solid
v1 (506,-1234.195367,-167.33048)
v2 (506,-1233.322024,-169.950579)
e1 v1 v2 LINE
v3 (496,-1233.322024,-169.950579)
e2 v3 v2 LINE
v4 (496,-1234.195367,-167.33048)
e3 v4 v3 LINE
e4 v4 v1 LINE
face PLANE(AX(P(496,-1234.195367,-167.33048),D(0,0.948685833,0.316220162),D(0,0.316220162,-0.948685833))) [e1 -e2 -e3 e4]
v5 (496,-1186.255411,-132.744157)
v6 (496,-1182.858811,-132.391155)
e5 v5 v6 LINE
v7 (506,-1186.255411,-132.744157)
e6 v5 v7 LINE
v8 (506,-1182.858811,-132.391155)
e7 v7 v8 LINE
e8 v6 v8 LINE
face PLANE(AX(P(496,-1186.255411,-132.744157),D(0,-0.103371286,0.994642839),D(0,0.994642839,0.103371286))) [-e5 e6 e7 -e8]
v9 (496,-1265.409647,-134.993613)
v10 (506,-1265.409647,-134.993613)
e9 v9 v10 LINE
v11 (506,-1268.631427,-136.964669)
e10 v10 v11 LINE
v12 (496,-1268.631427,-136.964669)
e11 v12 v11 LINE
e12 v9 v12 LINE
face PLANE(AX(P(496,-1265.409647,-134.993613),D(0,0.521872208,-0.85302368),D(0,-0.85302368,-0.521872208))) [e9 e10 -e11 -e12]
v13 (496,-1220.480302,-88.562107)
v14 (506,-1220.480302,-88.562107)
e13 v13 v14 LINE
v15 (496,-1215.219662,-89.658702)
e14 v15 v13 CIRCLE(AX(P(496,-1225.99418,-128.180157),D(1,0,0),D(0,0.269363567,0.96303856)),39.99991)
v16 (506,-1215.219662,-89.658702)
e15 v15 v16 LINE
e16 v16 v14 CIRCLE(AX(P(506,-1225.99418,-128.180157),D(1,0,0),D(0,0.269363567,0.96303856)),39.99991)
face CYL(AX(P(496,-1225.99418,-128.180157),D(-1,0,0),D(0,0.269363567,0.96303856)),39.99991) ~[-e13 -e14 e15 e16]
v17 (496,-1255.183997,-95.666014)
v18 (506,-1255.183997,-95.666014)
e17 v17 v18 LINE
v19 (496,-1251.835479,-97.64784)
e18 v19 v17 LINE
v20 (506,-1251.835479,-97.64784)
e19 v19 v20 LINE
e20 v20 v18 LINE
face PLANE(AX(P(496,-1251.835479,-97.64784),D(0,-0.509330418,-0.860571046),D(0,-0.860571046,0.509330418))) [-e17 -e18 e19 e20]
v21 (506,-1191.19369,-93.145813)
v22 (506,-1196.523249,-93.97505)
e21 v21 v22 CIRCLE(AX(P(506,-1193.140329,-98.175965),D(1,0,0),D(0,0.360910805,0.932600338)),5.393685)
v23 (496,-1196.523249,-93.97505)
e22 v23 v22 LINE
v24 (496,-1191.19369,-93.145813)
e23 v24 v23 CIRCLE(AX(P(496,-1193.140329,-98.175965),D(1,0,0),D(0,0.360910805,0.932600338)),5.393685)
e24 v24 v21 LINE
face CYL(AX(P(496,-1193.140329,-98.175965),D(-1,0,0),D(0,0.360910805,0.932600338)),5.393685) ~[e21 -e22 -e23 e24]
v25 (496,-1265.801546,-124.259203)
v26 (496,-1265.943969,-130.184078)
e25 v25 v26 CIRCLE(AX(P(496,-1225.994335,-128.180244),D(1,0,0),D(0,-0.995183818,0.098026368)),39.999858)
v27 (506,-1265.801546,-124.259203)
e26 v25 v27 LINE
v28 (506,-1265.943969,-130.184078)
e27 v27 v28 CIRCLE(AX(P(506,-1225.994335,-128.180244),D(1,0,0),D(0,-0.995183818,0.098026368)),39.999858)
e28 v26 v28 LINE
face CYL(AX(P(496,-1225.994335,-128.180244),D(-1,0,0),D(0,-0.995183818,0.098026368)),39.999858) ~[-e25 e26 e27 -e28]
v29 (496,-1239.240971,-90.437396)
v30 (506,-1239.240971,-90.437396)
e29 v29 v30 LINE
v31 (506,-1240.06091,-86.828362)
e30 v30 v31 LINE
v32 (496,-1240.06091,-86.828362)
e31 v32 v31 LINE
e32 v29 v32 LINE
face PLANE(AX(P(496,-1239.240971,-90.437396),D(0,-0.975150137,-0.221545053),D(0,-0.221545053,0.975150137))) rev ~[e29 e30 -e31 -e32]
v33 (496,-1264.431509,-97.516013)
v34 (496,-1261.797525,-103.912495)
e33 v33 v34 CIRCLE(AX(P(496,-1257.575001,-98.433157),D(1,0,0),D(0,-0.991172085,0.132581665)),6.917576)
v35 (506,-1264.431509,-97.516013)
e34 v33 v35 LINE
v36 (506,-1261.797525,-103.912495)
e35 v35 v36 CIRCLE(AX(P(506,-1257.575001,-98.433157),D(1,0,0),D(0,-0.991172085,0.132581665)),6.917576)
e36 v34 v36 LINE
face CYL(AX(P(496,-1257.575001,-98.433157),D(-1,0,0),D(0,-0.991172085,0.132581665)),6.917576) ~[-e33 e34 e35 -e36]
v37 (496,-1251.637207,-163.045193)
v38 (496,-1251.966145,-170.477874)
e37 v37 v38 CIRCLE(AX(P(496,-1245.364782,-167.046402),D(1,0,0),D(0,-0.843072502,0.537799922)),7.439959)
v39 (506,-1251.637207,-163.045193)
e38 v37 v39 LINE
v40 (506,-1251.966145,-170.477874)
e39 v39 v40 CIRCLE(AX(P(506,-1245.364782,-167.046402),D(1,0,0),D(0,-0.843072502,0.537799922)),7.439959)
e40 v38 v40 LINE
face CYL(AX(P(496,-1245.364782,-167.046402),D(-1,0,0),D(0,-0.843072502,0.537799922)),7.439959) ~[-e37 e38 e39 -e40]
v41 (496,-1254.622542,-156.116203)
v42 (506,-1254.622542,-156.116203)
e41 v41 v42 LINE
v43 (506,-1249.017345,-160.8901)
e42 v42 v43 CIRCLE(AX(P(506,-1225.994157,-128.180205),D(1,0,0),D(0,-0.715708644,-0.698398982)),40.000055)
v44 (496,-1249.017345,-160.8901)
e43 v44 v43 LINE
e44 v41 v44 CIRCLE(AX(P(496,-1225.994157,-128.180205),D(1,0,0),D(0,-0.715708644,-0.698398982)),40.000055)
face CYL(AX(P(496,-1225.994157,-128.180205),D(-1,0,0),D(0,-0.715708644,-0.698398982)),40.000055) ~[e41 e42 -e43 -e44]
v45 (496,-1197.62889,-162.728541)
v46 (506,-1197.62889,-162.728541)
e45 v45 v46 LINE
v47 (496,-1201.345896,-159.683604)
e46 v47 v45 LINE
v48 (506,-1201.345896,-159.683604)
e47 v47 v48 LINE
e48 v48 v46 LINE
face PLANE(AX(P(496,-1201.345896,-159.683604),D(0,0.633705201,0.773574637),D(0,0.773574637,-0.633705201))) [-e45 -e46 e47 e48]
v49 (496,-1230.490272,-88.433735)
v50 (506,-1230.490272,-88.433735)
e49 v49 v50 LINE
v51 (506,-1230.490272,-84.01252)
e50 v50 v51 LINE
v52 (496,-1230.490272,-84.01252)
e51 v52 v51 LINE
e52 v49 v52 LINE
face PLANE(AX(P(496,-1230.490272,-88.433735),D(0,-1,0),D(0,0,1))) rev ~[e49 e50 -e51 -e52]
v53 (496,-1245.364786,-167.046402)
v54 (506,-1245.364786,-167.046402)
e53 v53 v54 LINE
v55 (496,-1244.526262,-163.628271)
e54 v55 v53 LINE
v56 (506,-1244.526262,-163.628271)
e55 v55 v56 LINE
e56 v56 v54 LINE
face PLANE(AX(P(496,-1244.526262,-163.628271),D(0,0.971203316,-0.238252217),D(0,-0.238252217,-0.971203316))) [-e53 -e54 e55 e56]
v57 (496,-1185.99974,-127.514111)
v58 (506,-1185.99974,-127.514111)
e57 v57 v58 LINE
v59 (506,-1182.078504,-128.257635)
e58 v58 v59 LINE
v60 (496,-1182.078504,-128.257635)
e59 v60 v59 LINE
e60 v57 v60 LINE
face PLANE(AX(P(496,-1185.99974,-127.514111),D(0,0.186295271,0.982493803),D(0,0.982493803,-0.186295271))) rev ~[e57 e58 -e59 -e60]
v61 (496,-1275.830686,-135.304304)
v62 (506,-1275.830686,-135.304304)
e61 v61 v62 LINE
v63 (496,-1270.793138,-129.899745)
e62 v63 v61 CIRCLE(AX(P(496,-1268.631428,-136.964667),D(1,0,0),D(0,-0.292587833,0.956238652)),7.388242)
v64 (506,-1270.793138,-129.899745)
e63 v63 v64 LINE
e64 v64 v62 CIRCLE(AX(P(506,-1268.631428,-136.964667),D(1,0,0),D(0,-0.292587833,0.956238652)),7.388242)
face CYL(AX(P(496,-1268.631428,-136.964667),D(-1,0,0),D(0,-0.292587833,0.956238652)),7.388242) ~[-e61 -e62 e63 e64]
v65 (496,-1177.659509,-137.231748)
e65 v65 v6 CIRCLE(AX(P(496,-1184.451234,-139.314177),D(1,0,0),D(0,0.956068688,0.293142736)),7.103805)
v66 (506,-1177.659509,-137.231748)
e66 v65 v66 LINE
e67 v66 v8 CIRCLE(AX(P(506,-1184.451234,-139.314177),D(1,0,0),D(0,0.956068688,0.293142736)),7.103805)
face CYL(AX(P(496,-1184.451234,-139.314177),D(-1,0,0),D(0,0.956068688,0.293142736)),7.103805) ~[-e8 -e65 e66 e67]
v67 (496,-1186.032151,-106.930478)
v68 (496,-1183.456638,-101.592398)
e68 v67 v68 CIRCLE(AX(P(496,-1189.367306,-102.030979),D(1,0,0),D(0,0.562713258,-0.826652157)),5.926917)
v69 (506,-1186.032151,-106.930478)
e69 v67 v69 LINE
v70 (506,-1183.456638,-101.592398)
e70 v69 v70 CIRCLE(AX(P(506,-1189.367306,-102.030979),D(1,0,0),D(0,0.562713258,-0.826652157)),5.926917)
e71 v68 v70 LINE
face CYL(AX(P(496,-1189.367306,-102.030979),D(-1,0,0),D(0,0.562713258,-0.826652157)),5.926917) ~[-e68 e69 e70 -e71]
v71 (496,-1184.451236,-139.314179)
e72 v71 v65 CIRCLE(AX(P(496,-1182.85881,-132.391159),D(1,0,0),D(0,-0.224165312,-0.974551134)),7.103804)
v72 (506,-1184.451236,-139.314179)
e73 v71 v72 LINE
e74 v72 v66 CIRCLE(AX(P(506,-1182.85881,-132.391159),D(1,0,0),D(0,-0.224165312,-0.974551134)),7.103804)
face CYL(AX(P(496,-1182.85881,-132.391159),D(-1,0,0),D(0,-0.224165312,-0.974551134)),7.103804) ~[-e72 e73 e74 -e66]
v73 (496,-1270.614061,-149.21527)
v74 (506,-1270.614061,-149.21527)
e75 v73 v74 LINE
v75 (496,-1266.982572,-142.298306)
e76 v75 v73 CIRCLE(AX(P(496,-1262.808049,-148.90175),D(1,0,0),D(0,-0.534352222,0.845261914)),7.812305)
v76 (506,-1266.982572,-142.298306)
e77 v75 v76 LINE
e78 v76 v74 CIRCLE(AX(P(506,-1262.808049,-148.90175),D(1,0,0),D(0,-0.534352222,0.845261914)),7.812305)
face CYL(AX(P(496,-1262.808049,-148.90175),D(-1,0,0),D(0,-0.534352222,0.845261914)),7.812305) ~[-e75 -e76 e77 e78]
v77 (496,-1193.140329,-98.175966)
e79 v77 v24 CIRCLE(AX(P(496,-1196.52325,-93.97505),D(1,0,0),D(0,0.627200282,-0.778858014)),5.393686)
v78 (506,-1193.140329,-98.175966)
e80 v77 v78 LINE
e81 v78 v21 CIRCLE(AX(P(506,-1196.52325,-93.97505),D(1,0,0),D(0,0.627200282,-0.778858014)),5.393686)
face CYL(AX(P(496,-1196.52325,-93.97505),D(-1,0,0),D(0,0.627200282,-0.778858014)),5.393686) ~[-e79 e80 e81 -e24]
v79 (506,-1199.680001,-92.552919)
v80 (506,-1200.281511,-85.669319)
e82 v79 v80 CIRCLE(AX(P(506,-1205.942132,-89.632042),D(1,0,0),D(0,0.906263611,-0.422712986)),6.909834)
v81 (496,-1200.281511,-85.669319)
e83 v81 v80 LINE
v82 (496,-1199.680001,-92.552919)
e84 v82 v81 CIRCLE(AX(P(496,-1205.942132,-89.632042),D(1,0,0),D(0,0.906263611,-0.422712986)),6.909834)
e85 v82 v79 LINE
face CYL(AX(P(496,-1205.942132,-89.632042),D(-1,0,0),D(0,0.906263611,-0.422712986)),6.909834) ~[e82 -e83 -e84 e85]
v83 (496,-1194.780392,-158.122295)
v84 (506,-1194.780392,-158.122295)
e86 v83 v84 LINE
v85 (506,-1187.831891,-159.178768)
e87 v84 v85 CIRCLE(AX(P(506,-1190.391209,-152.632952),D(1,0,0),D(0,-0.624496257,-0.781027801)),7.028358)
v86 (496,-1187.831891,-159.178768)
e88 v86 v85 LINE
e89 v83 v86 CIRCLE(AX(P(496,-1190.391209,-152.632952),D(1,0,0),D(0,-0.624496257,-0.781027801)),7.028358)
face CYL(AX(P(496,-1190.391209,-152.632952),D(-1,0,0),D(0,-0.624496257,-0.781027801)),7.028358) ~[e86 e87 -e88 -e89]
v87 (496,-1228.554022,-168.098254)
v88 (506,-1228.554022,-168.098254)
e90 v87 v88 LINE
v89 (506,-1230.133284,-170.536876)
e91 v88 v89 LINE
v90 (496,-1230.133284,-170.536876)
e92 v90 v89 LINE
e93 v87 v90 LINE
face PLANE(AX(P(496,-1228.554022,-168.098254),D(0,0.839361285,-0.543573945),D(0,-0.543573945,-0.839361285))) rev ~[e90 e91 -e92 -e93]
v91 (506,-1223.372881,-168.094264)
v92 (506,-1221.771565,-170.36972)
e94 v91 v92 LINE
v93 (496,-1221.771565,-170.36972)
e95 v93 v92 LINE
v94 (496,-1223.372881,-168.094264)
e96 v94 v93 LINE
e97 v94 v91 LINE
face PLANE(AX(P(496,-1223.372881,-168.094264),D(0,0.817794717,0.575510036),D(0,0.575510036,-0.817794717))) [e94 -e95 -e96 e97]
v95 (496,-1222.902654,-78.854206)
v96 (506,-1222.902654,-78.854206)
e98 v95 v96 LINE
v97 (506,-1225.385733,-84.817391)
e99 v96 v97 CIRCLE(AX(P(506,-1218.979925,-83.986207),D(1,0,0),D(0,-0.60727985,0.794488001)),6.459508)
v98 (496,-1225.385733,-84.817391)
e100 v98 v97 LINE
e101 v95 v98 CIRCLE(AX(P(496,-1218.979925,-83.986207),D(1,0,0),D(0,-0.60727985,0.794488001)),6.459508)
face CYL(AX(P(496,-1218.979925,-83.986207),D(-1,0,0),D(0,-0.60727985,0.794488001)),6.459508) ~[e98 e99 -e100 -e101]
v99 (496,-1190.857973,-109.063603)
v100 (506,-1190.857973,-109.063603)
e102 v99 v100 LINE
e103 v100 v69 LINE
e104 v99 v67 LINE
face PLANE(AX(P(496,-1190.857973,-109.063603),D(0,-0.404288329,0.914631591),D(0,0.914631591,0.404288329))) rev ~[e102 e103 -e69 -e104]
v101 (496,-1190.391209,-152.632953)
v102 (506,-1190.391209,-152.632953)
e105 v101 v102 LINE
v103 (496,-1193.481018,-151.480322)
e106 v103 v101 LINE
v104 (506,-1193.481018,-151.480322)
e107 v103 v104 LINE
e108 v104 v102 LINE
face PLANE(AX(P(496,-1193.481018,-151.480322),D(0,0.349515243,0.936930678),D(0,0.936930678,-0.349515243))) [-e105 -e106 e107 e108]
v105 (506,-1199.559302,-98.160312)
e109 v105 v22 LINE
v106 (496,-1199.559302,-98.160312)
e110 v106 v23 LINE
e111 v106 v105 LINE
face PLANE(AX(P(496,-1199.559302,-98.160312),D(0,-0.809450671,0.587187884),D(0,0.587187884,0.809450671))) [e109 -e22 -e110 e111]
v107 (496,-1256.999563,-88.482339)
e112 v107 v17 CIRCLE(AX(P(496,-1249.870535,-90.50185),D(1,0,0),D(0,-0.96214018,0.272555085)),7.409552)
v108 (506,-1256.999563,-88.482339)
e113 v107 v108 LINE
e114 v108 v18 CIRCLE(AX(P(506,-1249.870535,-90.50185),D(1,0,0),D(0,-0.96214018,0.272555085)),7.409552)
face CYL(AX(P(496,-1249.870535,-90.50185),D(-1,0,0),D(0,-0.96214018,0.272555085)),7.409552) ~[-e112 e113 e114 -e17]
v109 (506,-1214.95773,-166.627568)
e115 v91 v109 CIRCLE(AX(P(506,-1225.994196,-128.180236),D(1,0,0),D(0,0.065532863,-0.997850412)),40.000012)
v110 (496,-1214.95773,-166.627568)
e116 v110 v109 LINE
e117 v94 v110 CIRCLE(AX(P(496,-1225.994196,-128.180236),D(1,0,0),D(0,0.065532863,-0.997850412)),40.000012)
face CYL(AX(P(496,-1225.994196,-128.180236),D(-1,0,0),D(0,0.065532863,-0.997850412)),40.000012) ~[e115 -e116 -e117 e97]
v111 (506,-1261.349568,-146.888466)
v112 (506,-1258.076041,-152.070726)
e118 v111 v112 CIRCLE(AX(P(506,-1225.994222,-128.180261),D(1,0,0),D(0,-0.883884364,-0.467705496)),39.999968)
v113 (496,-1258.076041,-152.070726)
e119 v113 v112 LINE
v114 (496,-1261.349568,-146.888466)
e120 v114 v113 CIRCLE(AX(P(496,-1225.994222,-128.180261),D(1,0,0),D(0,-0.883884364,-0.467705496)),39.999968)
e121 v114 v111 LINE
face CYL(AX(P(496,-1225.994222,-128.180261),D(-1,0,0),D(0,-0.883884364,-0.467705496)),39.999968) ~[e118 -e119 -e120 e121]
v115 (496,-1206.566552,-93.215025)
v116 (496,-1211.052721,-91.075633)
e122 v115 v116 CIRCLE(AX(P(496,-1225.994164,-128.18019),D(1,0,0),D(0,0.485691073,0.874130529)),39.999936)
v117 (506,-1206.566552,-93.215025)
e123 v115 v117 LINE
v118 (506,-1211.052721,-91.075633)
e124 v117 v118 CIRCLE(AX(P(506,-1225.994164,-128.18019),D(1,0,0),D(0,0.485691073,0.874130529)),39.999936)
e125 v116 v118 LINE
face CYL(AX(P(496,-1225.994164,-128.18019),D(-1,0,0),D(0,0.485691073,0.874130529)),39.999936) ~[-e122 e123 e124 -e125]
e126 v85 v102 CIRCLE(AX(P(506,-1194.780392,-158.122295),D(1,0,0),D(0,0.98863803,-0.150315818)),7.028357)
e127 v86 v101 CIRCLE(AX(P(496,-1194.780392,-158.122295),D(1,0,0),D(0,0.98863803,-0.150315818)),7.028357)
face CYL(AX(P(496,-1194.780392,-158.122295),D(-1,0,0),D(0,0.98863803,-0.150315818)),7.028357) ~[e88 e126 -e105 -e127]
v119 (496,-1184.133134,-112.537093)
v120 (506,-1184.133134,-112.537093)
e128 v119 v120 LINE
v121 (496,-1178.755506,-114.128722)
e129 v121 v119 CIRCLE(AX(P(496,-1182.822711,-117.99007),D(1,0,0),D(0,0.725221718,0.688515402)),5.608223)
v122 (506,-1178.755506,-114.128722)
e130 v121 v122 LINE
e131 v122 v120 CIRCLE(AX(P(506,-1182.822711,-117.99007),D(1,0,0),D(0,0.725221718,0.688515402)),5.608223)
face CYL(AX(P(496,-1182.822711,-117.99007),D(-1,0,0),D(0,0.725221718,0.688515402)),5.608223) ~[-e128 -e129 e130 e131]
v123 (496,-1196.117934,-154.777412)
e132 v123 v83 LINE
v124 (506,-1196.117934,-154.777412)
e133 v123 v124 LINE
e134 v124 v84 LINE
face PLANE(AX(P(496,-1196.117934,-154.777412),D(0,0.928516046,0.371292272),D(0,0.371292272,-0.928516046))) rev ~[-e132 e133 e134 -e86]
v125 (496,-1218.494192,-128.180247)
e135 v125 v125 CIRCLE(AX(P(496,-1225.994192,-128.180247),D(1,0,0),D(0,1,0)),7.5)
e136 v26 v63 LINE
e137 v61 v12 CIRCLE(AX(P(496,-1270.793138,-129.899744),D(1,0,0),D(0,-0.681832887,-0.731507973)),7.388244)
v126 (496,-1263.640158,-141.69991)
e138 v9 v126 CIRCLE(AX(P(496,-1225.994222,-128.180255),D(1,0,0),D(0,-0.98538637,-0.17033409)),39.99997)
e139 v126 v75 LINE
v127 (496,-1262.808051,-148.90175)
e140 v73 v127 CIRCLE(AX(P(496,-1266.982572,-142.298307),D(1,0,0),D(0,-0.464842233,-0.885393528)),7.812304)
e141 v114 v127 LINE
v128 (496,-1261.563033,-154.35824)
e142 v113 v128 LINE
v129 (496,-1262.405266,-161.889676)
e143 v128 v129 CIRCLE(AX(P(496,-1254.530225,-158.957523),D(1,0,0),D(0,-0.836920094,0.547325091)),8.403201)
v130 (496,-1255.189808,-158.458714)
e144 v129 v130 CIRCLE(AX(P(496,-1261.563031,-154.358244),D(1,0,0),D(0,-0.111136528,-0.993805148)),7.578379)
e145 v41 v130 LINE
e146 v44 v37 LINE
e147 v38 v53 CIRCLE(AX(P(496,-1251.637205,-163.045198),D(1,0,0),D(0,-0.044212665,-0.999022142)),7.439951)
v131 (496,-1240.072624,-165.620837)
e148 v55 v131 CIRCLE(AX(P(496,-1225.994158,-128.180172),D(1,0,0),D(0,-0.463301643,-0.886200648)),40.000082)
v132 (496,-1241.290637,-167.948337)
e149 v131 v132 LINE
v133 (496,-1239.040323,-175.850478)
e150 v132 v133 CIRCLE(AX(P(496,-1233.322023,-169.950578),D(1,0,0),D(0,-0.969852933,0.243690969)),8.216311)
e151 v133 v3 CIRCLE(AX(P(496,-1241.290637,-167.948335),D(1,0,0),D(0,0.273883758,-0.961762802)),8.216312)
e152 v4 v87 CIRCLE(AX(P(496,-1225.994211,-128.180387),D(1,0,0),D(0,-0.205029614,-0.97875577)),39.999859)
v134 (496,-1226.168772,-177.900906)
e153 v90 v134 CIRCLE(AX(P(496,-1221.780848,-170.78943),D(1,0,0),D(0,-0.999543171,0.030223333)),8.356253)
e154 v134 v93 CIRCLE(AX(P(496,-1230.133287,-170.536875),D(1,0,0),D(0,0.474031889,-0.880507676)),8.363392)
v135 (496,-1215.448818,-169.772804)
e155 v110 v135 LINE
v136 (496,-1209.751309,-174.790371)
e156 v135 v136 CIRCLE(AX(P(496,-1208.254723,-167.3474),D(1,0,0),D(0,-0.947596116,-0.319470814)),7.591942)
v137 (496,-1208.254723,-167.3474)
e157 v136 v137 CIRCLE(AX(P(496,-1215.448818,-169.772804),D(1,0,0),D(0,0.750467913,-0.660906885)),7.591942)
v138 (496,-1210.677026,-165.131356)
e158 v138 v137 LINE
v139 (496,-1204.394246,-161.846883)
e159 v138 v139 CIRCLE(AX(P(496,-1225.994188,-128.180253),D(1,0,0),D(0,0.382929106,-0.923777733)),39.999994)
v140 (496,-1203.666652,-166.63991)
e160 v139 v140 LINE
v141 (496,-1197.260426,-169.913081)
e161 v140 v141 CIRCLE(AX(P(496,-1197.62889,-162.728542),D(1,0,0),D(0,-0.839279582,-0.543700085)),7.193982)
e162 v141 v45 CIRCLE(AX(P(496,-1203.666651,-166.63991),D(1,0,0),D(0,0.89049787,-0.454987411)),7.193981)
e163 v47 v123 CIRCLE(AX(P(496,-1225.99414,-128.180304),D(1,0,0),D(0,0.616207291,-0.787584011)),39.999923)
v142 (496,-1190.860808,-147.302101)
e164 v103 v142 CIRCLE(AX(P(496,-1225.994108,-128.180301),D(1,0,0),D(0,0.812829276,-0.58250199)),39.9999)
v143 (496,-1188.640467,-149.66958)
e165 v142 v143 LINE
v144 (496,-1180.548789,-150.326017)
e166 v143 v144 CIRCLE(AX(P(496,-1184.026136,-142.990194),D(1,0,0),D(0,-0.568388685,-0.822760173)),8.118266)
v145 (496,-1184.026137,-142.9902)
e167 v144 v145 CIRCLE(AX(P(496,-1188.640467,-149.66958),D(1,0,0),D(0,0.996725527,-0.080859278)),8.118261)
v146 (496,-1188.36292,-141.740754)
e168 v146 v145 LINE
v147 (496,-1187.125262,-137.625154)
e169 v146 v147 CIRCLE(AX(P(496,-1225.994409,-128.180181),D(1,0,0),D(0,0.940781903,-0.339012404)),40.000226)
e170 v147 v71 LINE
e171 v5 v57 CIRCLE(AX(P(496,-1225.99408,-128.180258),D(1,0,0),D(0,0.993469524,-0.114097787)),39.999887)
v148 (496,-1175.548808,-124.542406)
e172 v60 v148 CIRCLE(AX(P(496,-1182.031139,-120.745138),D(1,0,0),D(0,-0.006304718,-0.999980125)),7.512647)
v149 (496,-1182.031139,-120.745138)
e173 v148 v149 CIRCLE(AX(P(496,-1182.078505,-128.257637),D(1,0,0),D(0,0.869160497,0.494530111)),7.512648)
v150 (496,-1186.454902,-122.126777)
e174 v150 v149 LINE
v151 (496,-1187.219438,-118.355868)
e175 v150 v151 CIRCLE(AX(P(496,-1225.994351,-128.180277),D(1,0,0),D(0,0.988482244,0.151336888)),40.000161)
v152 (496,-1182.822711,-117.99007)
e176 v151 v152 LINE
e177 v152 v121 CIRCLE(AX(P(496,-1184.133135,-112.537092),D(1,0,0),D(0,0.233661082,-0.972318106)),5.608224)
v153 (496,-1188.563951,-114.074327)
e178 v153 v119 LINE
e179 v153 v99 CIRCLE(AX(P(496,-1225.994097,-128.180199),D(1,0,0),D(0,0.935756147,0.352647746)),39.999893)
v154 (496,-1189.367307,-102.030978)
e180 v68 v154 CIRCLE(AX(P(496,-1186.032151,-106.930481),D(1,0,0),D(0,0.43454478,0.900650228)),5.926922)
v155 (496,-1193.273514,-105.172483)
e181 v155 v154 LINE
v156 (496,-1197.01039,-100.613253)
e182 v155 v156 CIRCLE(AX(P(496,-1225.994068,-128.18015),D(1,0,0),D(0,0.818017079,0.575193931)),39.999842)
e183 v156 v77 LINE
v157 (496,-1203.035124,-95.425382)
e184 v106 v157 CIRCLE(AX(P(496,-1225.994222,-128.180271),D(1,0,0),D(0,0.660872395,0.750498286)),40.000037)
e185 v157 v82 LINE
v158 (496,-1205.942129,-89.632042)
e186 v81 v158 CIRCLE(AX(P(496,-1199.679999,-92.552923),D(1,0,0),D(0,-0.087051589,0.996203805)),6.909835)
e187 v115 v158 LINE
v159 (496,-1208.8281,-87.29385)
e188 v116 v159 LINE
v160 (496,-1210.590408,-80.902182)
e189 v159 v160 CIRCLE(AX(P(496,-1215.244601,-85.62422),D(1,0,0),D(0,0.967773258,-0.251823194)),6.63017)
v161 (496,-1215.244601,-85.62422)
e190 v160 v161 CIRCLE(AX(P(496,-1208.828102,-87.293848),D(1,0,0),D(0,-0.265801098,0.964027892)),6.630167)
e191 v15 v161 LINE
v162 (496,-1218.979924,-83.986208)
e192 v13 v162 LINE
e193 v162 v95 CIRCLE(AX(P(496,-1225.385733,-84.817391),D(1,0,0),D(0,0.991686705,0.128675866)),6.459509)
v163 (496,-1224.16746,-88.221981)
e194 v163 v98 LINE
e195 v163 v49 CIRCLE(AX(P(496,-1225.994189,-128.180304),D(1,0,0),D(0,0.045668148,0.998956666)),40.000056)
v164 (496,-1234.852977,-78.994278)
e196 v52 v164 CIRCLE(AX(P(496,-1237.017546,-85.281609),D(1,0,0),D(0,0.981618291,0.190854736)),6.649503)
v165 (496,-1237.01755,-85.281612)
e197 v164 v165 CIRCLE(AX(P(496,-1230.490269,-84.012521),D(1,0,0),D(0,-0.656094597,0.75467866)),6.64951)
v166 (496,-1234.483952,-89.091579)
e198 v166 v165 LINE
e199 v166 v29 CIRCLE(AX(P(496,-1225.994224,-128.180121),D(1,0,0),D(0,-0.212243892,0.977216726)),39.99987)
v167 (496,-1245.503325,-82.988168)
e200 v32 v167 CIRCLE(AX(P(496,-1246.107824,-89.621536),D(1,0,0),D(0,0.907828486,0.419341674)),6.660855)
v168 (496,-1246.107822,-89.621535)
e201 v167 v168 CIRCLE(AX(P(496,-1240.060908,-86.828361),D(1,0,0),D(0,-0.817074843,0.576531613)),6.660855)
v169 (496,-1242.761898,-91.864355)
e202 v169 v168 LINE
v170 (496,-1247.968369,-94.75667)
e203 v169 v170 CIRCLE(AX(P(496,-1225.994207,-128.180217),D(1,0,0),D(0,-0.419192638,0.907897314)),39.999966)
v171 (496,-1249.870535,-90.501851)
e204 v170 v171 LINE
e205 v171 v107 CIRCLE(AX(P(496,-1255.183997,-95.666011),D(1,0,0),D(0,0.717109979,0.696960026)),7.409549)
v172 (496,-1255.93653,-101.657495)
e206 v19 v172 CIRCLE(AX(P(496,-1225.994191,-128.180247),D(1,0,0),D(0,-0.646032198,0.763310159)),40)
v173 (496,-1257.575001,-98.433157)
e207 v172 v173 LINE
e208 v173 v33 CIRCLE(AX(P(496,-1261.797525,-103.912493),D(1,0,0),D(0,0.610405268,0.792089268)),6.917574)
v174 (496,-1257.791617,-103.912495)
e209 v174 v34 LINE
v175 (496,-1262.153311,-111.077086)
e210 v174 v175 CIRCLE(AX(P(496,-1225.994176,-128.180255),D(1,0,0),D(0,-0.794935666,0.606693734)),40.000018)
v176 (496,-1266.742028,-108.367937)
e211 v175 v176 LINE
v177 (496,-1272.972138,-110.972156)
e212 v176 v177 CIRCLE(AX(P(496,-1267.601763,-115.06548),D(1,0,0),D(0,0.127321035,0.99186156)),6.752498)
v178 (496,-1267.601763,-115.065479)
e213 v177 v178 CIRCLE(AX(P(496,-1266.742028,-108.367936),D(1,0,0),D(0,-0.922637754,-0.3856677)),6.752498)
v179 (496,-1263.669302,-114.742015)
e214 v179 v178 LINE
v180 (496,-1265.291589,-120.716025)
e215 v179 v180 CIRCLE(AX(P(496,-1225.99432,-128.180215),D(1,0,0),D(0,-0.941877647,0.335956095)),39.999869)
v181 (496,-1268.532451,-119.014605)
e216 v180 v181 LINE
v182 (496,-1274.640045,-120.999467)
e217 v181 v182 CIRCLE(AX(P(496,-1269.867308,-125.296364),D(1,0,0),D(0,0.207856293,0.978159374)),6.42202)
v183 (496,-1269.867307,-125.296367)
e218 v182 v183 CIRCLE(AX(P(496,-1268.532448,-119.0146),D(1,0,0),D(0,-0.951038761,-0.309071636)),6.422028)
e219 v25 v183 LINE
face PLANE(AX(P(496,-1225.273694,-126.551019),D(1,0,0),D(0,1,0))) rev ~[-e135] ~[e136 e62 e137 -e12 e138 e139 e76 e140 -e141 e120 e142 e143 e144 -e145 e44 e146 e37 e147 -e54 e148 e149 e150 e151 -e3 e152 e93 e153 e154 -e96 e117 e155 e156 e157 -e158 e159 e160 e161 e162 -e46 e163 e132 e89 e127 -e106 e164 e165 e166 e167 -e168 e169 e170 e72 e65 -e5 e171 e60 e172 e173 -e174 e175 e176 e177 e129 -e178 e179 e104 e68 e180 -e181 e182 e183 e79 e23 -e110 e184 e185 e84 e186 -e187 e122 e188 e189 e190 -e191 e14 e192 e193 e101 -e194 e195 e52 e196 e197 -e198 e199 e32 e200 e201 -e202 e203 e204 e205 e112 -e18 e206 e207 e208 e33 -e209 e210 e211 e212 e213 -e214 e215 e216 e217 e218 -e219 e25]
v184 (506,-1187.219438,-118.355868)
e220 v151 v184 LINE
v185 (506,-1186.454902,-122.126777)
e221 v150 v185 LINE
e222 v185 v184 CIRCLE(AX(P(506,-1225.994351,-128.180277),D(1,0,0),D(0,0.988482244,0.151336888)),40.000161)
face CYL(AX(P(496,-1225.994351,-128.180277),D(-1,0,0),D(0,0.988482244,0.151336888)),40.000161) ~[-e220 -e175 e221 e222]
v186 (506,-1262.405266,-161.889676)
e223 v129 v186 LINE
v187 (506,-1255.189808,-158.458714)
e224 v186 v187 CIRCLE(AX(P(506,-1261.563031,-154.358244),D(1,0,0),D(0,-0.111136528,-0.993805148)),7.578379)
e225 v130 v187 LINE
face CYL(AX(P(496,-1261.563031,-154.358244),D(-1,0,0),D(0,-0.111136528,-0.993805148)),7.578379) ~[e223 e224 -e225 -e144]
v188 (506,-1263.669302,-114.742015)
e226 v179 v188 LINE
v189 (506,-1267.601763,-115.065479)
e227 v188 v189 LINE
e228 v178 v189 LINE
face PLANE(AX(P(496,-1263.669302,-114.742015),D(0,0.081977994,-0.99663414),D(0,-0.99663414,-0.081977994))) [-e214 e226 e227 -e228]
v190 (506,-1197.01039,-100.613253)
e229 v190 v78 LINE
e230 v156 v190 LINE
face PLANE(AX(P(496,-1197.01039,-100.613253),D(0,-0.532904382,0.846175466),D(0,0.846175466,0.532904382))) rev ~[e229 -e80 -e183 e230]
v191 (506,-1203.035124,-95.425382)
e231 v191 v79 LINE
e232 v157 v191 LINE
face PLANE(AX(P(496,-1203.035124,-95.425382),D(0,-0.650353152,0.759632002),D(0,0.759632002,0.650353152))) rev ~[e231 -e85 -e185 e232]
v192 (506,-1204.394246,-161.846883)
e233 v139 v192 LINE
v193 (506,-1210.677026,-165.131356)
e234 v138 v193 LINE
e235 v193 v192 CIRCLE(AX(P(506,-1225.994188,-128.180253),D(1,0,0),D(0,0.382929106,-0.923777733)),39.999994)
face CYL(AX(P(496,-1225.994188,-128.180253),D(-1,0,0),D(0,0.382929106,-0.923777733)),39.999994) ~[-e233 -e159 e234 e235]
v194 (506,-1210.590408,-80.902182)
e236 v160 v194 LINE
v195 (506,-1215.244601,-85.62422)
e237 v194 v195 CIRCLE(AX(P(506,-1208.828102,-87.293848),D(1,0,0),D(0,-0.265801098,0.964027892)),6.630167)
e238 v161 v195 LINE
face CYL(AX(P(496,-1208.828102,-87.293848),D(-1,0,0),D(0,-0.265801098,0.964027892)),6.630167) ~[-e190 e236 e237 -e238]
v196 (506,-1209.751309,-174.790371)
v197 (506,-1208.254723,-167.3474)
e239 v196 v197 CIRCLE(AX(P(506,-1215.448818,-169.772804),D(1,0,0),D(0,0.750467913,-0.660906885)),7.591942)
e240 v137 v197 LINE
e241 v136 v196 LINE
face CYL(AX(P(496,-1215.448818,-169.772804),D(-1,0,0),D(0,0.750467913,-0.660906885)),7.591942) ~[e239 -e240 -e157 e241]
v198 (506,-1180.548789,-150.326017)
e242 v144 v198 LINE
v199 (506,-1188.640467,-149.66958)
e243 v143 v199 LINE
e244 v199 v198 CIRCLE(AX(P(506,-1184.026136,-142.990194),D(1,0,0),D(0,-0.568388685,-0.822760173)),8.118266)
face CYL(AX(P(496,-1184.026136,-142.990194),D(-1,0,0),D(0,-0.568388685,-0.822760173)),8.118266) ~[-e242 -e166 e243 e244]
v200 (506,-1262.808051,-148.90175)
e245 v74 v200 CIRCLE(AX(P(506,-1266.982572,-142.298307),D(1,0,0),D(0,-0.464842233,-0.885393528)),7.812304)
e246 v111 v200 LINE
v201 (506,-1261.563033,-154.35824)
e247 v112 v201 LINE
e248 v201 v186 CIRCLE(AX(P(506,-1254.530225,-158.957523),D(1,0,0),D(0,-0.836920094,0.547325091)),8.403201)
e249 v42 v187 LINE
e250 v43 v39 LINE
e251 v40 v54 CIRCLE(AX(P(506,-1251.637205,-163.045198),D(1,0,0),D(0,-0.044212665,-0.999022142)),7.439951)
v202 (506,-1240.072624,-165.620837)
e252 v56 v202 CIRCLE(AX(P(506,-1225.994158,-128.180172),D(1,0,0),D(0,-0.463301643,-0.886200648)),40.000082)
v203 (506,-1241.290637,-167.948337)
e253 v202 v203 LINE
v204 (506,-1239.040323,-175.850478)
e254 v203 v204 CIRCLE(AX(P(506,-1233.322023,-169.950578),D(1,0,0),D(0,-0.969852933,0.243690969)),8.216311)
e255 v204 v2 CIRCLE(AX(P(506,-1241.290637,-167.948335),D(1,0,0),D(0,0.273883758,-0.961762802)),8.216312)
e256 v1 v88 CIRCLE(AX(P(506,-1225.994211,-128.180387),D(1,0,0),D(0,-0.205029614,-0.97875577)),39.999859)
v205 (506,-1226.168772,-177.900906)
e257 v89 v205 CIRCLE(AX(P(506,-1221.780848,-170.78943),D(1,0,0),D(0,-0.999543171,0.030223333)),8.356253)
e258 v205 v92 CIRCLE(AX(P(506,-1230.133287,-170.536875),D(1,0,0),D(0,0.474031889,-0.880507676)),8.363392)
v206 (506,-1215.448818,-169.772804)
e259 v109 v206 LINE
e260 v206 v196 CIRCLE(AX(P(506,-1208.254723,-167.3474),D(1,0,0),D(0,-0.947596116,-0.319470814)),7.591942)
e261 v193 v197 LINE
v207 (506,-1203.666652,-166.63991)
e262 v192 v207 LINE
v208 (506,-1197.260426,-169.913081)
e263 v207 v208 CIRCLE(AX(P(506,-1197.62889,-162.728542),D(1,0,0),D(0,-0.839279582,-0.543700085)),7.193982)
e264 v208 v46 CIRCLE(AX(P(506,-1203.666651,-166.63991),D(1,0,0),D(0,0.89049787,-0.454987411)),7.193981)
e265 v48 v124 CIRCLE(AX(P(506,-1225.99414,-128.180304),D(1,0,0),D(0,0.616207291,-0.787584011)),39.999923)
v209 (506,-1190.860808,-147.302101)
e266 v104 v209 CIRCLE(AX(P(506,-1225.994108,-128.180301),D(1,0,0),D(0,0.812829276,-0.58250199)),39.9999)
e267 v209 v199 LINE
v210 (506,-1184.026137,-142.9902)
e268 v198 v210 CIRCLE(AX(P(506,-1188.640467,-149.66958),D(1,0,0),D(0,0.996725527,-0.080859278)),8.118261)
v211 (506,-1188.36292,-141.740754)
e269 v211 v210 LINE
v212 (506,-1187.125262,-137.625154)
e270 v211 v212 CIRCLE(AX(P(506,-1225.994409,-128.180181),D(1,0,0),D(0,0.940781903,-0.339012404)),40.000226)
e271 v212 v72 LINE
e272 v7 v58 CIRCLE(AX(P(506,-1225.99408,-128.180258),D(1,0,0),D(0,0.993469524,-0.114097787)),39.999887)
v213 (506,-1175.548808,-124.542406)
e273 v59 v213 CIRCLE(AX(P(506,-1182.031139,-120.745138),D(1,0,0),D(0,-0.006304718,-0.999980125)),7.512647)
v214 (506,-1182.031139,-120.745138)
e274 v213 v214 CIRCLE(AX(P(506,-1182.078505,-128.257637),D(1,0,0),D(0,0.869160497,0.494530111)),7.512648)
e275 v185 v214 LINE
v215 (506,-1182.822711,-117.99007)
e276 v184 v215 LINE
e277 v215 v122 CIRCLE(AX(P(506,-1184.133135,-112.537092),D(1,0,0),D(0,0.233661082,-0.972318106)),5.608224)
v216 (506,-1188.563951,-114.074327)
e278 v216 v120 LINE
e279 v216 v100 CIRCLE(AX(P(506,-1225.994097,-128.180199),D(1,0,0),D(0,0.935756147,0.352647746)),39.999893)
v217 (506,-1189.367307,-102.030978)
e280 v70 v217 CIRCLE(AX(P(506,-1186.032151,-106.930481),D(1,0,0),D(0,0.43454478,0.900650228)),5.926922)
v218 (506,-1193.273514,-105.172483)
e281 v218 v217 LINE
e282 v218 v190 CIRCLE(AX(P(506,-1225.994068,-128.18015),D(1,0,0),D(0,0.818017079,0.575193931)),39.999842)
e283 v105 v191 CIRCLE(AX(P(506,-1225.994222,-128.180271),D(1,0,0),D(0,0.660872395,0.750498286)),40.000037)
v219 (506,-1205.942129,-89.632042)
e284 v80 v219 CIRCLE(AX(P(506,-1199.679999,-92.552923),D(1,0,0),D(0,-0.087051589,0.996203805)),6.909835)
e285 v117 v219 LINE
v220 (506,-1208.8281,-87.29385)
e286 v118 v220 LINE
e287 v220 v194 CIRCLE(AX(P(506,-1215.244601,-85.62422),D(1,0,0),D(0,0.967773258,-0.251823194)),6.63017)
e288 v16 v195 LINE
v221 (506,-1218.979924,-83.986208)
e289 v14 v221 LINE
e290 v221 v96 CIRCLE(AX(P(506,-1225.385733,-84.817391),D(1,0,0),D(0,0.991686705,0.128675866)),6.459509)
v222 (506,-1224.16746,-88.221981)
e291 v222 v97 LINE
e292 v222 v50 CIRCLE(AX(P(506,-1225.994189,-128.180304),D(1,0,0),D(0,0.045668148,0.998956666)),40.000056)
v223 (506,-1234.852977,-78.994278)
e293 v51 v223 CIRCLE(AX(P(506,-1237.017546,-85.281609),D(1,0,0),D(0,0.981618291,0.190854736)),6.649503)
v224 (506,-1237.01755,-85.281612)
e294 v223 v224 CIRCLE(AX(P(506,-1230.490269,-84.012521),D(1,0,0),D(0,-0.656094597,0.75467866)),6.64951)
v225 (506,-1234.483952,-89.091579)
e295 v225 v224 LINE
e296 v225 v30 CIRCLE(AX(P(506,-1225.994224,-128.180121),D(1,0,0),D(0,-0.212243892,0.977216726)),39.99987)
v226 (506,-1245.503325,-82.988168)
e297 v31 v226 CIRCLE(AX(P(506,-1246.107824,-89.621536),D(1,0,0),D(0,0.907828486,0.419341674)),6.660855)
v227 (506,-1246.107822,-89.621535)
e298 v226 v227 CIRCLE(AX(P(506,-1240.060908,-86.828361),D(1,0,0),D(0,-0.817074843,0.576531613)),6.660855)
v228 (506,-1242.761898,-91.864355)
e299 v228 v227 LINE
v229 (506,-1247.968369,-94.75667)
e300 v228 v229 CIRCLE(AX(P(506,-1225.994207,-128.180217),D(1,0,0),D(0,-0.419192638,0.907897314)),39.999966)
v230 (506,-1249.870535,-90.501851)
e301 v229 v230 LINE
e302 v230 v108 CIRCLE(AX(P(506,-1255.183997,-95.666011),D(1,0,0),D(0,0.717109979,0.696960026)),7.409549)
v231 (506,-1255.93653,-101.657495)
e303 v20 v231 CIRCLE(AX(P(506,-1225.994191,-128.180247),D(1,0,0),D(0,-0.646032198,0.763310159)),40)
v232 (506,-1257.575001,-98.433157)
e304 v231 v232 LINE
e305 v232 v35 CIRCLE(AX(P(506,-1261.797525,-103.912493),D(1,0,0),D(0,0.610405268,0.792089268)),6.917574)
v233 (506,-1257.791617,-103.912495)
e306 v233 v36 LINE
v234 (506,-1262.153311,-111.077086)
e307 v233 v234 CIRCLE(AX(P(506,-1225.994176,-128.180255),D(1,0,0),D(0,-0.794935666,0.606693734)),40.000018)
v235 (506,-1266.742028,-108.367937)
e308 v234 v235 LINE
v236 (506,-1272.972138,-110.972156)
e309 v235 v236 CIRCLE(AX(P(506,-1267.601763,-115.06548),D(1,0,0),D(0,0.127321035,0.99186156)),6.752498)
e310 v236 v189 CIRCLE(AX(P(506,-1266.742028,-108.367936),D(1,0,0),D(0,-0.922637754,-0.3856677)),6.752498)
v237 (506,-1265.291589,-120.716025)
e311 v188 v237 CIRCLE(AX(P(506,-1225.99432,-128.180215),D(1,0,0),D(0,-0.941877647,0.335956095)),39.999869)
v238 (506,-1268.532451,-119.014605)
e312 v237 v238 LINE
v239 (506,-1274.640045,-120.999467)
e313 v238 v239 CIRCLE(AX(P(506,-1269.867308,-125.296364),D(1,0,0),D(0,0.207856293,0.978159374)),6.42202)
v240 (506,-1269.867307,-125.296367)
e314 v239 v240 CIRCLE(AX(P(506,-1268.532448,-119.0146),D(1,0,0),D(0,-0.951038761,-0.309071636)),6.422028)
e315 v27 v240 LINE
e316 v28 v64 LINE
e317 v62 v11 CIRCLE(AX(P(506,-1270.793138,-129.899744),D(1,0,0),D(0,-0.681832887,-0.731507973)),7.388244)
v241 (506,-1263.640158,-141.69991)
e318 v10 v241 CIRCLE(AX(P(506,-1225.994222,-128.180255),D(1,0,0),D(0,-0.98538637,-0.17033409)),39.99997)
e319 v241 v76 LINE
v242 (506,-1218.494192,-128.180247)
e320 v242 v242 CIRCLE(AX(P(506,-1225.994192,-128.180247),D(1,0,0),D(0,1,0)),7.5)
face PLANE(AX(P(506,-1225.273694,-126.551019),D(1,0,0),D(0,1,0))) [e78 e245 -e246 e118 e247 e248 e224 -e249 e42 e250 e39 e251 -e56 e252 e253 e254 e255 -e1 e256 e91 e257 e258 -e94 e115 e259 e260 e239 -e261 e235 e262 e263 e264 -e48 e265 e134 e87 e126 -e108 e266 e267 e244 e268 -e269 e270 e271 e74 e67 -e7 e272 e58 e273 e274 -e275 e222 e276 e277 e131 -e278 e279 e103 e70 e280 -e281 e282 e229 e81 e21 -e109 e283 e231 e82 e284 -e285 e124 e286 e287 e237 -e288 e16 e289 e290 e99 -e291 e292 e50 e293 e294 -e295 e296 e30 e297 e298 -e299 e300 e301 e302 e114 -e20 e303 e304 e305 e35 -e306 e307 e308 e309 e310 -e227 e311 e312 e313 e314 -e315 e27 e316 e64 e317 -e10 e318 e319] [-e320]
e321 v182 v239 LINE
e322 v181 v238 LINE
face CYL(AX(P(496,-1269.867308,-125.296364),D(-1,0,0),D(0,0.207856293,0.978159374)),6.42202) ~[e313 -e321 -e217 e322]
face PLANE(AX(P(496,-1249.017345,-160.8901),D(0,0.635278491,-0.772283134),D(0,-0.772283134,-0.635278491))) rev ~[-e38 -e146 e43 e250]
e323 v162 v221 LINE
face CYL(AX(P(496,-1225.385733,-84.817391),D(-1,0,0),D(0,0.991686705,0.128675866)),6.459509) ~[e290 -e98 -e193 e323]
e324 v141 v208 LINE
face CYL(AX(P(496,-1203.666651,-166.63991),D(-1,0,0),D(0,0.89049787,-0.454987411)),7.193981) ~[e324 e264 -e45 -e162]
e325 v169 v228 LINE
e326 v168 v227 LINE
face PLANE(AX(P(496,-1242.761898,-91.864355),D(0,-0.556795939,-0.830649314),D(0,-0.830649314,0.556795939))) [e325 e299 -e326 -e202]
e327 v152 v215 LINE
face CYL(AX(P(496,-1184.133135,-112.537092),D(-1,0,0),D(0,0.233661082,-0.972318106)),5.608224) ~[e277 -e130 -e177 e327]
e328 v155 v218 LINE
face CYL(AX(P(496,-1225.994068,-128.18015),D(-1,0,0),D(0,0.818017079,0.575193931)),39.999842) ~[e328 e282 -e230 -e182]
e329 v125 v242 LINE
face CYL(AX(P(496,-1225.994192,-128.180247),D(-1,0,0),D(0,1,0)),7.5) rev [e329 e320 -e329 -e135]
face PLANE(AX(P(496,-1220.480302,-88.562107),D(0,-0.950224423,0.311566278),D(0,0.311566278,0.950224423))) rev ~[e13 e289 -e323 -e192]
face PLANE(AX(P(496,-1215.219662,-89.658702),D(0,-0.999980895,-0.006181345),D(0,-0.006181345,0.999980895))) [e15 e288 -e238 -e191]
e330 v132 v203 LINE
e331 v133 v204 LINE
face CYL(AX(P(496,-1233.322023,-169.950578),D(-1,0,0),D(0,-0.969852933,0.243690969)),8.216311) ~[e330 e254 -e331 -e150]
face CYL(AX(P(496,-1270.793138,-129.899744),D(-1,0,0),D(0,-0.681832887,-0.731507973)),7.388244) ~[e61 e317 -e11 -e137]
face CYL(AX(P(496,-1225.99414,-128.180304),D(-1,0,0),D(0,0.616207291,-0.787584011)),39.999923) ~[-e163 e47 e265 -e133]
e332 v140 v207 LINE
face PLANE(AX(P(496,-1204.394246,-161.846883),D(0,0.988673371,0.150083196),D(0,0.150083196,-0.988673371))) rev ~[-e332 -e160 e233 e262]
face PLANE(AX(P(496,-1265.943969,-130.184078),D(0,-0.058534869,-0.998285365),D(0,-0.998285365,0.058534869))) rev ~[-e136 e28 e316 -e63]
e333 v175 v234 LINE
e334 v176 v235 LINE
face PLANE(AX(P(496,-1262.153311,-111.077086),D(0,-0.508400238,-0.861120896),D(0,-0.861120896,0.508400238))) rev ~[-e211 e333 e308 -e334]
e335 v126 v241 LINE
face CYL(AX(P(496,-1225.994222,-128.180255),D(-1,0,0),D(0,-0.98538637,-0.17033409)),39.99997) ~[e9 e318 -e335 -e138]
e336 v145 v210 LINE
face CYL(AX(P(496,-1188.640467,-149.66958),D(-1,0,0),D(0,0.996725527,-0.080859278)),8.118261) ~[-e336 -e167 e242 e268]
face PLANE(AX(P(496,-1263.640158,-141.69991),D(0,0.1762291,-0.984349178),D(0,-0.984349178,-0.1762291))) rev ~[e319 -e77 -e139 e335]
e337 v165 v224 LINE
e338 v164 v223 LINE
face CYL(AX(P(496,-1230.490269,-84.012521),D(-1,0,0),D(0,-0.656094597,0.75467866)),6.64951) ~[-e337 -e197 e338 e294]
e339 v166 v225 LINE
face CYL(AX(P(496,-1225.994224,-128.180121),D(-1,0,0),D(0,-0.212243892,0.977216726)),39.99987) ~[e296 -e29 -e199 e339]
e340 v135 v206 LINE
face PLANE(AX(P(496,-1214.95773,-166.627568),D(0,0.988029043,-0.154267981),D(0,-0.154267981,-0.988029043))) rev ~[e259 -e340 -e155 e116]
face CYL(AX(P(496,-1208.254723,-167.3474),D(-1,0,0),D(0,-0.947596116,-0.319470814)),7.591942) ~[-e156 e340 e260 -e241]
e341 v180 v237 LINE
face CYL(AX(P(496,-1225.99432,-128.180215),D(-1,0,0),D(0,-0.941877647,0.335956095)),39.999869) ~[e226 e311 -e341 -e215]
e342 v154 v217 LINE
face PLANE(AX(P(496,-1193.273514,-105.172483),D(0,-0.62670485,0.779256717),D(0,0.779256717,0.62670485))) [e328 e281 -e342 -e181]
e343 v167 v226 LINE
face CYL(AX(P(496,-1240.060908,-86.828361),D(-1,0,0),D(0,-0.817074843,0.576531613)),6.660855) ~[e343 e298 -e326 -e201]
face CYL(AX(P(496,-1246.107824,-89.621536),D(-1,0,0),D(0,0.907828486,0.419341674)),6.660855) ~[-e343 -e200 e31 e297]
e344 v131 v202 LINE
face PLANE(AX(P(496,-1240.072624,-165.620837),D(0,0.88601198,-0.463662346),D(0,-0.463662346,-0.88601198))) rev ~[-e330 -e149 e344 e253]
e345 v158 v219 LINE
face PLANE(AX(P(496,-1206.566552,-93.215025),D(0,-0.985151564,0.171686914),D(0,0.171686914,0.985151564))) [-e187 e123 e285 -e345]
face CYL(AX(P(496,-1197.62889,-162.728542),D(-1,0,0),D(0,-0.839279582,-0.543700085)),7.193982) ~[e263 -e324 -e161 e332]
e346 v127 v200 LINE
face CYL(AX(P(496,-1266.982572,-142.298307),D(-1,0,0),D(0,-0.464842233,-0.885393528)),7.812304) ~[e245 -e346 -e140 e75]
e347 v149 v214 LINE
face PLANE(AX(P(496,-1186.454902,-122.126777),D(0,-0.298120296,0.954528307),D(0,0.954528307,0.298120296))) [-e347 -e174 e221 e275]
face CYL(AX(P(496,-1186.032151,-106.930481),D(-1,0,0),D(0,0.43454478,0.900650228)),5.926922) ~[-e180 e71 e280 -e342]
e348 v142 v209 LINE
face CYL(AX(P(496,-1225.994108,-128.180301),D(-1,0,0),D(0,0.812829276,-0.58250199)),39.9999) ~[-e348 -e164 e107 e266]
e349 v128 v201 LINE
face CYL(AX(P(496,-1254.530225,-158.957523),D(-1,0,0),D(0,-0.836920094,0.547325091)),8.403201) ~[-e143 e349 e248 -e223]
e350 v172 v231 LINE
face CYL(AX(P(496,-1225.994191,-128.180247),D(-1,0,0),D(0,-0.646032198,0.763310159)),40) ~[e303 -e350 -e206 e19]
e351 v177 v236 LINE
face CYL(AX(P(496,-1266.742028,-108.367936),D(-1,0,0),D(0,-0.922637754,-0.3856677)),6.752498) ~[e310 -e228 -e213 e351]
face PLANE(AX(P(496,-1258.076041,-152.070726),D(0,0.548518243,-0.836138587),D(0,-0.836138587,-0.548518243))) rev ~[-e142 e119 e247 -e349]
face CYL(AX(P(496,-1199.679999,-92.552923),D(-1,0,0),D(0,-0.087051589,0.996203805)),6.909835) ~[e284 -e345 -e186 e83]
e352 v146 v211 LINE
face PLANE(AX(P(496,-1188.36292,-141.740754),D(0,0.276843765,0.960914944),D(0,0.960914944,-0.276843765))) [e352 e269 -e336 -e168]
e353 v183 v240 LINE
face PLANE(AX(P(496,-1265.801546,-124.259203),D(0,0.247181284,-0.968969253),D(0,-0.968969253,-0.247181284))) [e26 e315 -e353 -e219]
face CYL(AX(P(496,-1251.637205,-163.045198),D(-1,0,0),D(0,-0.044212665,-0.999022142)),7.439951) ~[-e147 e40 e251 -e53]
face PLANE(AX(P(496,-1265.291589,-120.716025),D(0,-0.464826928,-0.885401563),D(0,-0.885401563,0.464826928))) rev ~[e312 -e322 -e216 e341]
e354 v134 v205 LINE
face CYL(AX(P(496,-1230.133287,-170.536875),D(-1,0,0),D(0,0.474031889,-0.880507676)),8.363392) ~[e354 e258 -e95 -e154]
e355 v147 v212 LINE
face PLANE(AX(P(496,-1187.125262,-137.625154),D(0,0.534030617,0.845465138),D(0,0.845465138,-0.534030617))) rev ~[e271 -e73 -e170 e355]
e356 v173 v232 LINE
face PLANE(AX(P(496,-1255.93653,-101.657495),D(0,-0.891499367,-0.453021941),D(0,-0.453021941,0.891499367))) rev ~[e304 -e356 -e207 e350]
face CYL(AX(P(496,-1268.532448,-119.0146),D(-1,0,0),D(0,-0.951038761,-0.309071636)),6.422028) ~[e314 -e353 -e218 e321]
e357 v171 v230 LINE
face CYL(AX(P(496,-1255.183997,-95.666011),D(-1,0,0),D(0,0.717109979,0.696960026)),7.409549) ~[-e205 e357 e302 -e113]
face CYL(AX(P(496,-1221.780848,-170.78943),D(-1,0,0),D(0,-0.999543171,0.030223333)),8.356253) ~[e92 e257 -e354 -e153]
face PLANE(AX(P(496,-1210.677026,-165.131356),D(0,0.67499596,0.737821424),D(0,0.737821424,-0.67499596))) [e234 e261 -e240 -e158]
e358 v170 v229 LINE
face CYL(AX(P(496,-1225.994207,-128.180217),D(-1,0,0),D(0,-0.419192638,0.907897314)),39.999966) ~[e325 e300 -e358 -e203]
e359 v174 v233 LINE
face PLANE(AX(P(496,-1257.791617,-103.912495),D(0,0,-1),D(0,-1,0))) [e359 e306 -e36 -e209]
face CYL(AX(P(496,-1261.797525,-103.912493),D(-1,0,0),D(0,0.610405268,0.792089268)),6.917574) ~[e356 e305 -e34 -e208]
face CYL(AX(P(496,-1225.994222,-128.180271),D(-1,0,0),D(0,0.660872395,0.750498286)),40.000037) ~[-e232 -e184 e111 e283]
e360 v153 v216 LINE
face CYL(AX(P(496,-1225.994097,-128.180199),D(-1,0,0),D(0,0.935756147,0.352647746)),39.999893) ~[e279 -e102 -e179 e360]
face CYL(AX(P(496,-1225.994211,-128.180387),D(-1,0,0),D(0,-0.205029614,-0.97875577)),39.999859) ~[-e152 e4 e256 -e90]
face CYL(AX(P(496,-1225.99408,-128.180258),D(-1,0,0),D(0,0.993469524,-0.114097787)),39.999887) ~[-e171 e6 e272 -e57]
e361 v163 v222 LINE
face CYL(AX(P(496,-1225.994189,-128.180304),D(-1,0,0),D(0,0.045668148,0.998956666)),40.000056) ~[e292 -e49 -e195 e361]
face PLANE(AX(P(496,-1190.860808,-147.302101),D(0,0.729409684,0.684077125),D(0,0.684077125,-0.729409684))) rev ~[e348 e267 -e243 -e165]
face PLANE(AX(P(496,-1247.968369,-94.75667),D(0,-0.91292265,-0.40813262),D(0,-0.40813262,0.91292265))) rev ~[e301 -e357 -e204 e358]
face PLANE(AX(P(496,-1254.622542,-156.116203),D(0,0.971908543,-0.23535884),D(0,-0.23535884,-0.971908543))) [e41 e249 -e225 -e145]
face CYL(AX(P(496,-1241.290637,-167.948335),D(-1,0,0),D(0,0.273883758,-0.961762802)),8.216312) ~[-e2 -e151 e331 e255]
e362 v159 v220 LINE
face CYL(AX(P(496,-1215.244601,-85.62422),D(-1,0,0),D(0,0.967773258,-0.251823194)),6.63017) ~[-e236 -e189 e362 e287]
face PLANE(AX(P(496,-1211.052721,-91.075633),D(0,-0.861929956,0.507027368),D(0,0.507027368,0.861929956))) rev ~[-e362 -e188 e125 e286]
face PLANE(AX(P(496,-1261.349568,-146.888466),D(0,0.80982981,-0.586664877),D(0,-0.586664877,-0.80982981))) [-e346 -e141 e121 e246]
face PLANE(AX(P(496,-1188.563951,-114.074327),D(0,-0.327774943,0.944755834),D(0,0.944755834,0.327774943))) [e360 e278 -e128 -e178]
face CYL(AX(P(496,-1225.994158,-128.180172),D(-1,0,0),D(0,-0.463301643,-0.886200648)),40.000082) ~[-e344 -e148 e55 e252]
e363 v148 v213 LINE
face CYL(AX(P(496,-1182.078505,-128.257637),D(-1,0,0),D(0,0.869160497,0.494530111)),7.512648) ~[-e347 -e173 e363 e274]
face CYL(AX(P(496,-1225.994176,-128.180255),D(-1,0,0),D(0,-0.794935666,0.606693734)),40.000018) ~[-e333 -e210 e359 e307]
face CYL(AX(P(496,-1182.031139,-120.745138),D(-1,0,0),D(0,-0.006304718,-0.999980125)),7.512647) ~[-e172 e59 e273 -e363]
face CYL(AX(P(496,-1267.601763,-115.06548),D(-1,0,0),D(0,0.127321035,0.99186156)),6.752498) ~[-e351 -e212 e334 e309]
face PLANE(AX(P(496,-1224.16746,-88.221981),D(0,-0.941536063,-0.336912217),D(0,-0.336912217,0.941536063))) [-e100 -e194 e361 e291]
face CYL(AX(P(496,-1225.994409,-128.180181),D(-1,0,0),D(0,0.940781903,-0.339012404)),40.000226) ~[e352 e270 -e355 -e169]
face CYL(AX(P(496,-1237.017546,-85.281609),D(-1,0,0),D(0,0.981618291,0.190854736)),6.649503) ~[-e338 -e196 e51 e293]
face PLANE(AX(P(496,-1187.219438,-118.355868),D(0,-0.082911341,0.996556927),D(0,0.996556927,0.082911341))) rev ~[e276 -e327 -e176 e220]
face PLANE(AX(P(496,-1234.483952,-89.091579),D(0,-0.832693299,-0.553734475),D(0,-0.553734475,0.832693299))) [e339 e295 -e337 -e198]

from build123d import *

# Parameters (mm, degrees)
SKETCH002_R  = 7.5
PAD001_DEPTH = 10


with BuildPart() as part:
    # Sketch002 → Pad001 (new body)
    with BuildSketch(Plane.YZ):
        with BuildLine():
            ThreePointArc((-7.372881, -40.094264), (-3.126041, -39.586192), (1.04227, -38.627568))
            Line((1.04227, -38.627568), (0.551182, -41.772804))
            ThreePointArc((0.551182, -41.772804), (2.72771, -45.044909), (6.248691, -46.790371))
            ThreePointArc((6.248691, -46.790371), (7.994153, -43.26939), (7.745277, -39.3474))
            Line((5.322974, -37.131356), (7.745277, -39.3474))
            ThreePointArc((5.322974, -37.131356), (8.537274, -35.628587), (11.605754, -33.846883))
            Line((11.605754, -33.846883), (12.333348, -38.63991))
            ThreePointArc((12.333348, -38.63991), (15.097939, -41.134767), (18.739574, -41.913081))
            ThreePointArc((18.739574, -41.913081), (19.517888, -38.271446), (18.37111, -34.728541))
            Line((14.654104, -31.683604), (18.37111, -34.728541))
            ThreePointArc((14.654104, -31.683604), (17.378229, -29.347876), (19.882066, -26.777412))
            Line((19.882066, -26.777412), (21.219608, -30.122295))
            ThreePointArc((21.219608, -30.122295), (24.552318, -31.581454), (28.168109, -31.178768))
            ThreePointArc((28.168109, -31.178768), (27.765423, -27.562977), (25.608791, -24.632953))
            Line((22.518982, -23.480322), (25.608791, -24.632953))
            ThreePointArc((22.518982, -23.480322), (23.893543, -21.431633), (25.139192, -19.302101))
            Line((25.139192, -19.302101), (27.359533, -21.66958))
            ThreePointArc((27.359533, -21.66958), (31.317426, -23.081877), (35.451211, -22.326017))
            ThreePointArc((35.451211, -22.326017), (34.69535, -18.192232), (31.973863, -14.9902))
            Line((27.63708, -13.740754), (31.973863, -14.9902))
            ThreePointArc((27.63708, -13.740754), (28.311222, -11.699588), (28.874738, -9.625154))
            Line((28.874738, -9.625154), (31.548764, -11.314179))
            ThreePointArc((31.548764, -11.314179), (35.22362, -11.182883), (38.340491, -9.231748))
            ThreePointArc((38.340491, -9.231748), (36.389357, -6.114877), (33.141189, -4.391155))
            Line((29.744589, -4.744157), (33.141189, -4.391155))
            ThreePointArc((29.744589, -4.744157), (29.958098, -2.133322), (30.00026, 0.485889))
            Line((30.00026, 0.485889), (33.921496, -0.257635))
            ThreePointArc((33.921496, -0.257635), (37.68409, 0.725166), (40.451192, 3.457594))
            ThreePointArc((40.451192, 3.457594), (37.718763, 6.224696), (33.968861, 7.254862))
            Line((29.545098, 5.873223), (33.968861, 7.254862))
            ThreePointArc((29.545098, 5.873223), (29.208197, 7.767875), (28.780562, 9.644132))
            Line((28.780562, 9.644132), (33.177289, 10.00993))
            ThreePointArc((33.177289, 10.00993), (35.728214, 11.395702), (37.244494, 13.871278))
            ThreePointArc((37.244494, 13.871278), (34.768918, 15.387558), (31.866866, 15.462907))
            Line((27.436049, 13.925673), (31.866866, 15.462907))
            ThreePointArc((27.436049, 13.925673), (26.375433, 16.470589), (25.142027, 18.936397))
            Line((25.142027, 18.936397), (29.967849, 21.069522))
            ThreePointArc((29.967849, 21.069522), (31.970773, 23.393509), (32.543362, 26.407602))
            ThreePointArc((32.543362, 26.407602), (29.529269, 26.980191), (26.632693, 25.969022))
            Line((22.726486, 22.827517), (26.632693, 25.969022))
            ThreePointArc((22.726486, 22.827517), (20.942152, 25.176066), (18.98961, 27.386747))
            Line((18.98961, 27.386747), (22.859671, 29.824034))
            ThreePointArc((22.859671, 29.824034), (24.506903, 32.07831), (24.80631, 34.854187))
            ThreePointArc((24.80631, 34.854187), (22.030434, 35.153594), (19.476751, 34.02495))
            Line((16.440698, 29.839688), (19.476751, 34.02495))
            ThreePointArc((16.440698, 29.839688), (14.740616, 31.25523), (12.964876, 32.574618))
            Line((12.964876, 32.574618), (16.319999, 35.447081))
            ThreePointArc((16.319999, 35.447081), (16.941471, 38.969468), (15.718489, 42.330681))
            ThreePointArc((15.718489, 42.330681), (12.357276, 41.107698), (10.057871, 38.367958))
            Line((9.433448, 34.784975), (10.057871, 38.367958))
            ThreePointArc((9.433448, 34.784975), (7.223624, 35.924417), (4.947279, 36.924367))
            Line((4.947279, 36.924367), (7.1719, 40.70615))
            ThreePointArc((7.1719, 40.70615), (7.147067, 44.138089), (5.409592, 47.097818))
            ThreePointArc((5.409592, 47.097818), (2.449862, 45.360343), (0.755399, 42.37578))
            Line((0.780338, 38.341298), (0.755399, 42.37578))
            ThreePointArc((0.780338, 38.341298), (-1.831547, 38.978037), (-4.480302, 39.437893))
            Line((-4.480302, 39.437893), (-2.979924, 44.013792))
            ThreePointArc((-2.979924, 44.013792), (-4.253731, 47.105339), (-6.902654, 49.145794))
            ThreePointArc((-6.902654, 49.145794), (-8.943109, 46.496871), (-9.385733, 43.182609))
            Line((-8.16746, 39.778019), (-9.385733, 43.182609))
            ThreePointArc((-8.16746, 39.778019), (-11.333059, 39.797339), (-14.490272, 39.566265))
            Line((-14.490272, 39.566265), (-14.490272, 43.98748))
            ThreePointArc((-14.490272, 43.98748), (-15.999307, 47.081093), (-18.852977, 49.005722))
            ThreePointArc((-18.852977, 49.005722), (-20.777606, 46.152053), (-21.01755, 42.718388))
            Line((-18.483952, 38.908421), (-21.01755, 42.718388))
            ThreePointArc((-18.483952, 38.908421), (-20.883273, 38.309075), (-23.240971, 37.562604))
            Line((-23.240971, 37.562604), (-24.06091, 41.171638))
            ThreePointArc((-24.06091, 41.171638), (-26.267629, 43.82088), (-29.503325, 45.011832))
            ThreePointArc((-29.503325, 45.011832), (-30.694276, 41.776136), (-30.107822, 38.378465))
            Line((-26.761898, 36.135645), (-30.107822, 38.378465))
            ThreePointArc((-26.761898, 36.135645), (-29.419041, 34.786526), (-31.968369, 33.24333))
            Line((-31.968369, 33.24333), (-33.870535, 37.498149))
            ThreePointArc((-33.870535, 37.498149), (-37.164485, 39.463014), (-40.999563, 39.517661))
            ThreePointArc((-40.999563, 39.517661), (-41.05421, 35.682584), (-39.183997, 32.333986))
            Line((-35.835479, 30.35216), (-39.183997, 32.333986))
            ThreePointArc((-35.835479, 30.35216), (-37.957964, 28.420932), (-39.93653, 26.342505))
            Line((-39.93653, 26.342505), (-41.575001, 29.566843))
            ThreePointArc((-41.575001, 29.566843), (-44.88038, 30.944013), (-48.431509, 30.483987))
            ThreePointArc((-48.431509, 30.483987), (-47.971483, 26.932859), (-45.797525, 24.087505))
            Line((-41.791617, 24.087505), (-45.797525, 24.087505))
            ThreePointArc((-41.791617, 24.087505), (-44.160781, 20.619854), (-46.153311, 16.922914))
            Line((-46.153311, 16.922914), (-50.742028, 19.632063))
            ThreePointArc((-50.742028, 19.632063), (-54.205982, 19.16463), (-56.972138, 17.027844))
            ThreePointArc((-56.972138, 17.027844), (-54.835352, 14.261689), (-51.601763, 12.934521))
            Line((-47.669302, 13.257985), (-51.601763, 12.934521))
            ThreePointArc((-47.669302, 13.257985), (-48.596186, 10.30241), (-49.291589, 7.283975))
            Line((-49.291589, 7.283975), (-52.532451, 8.985395))
            ThreePointArc((-52.532451, 8.985395), (-55.852169, 8.811227), (-58.640045, 7.000533))
            ThreePointArc((-58.640045, 7.000533), (-56.829351, 4.212658), (-53.867307, 2.703633))
            Line((-49.801546, 3.740797), (-53.867307, 2.703633))
            ThreePointArc((-49.801546, 3.740797), (-49.982641, 0.781001), (-49.943969, -2.184078))
            Line((-49.943969, -2.184078), (-54.793138, -1.899745))
            ThreePointArc((-54.793138, -1.899745), (-58.035986, -3.927121), (-59.830686, -7.304304))
            ThreePointArc((-59.830686, -7.304304), (-56.453504, -9.099004), (-52.631427, -8.964669))
            Line((-49.409647, -6.993613), (-52.631427, -8.964669))
            ThreePointArc((-49.409647, -6.993613), (-48.670532, -10.385186), (-47.640158, -13.69991))
            Line((-47.640158, -13.69991), (-50.982572, -14.298306))
            ThreePointArc((-50.982572, -14.298306), (-53.725014, -17.270261), (-54.614061, -21.21527))
            ThreePointArc((-54.614061, -21.21527), (-50.669052, -22.104317), (-46.808051, -20.90175))
            Line((-45.349568, -18.888466), (-46.808051, -20.90175))
            ThreePointArc((-45.349568, -18.888466), (-43.812217, -21.542392), (-42.076041, -24.070726))
            Line((-42.076041, -24.070726), (-45.563033, -26.35824))
            ThreePointArc((-45.563033, -26.35824), (-46.88137, -30.023623), (-46.405266, -33.889676))
            ThreePointArc((-46.405266, -33.889676), (-42.308675, -33.202292), (-39.189808, -30.458714))
            Line((-38.622542, -28.116203), (-39.189808, -30.458714))
            ThreePointArc((-38.622542, -28.116203), (-35.930016, -30.632391), (-33.017345, -32.8901))
            Line((-33.017345, -32.8901), (-35.637207, -35.045193))
            ThreePointArc((-35.637207, -35.045193), (-36.797466, -38.717464), (-35.966145, -42.477874))
            ThreePointArc((-35.966145, -42.477874), (-32.205735, -41.646553), (-29.364786, -39.046402))
            Line((-28.526262, -35.628271), (-29.364786, -39.046402))
            ThreePointArc((-28.526262, -35.628271), (-26.329852, -36.692522), (-24.072624, -37.620837))
            Line((-24.072624, -37.620837), (-25.290637, -39.948337))
            ThreePointArc((-25.290637, -39.948337), (-25.224166, -44.200892), (-23.040323, -47.850478))
            ThreePointArc((-23.040323, -47.850478), (-19.390737, -45.666635), (-17.322024, -41.950579))
            Line((-18.195367, -39.33048), (-17.322024, -41.950579))
            ThreePointArc((-18.195367, -39.33048), (-15.388372, -39.814864), (-12.554022, -40.098254))
            Line((-12.554022, -40.098254), (-14.133284, -42.536876))
            ThreePointArc((-14.133284, -42.536876), (-13.138594, -46.750559), (-10.168772, -49.900906))
            ThreePointArc((-10.168772, -49.900906), (-6.910841, -46.753818), (-5.771565, -42.36972))
            Line((-7.372881, -40.094264), (-5.771565, -42.36972))
        make_face()
        with Locations((-9.994192, -0.180247)):
            Circle(SKETCH002_R, mode=Mode.SUBTRACT)
    extrude(amount=PAD001_DEPTH)


with BuildPart() as part_1:
    # Body001 placement: moved
    add(part.part.moved(Location((496, -1216, -128))))


solid = part_1.part
